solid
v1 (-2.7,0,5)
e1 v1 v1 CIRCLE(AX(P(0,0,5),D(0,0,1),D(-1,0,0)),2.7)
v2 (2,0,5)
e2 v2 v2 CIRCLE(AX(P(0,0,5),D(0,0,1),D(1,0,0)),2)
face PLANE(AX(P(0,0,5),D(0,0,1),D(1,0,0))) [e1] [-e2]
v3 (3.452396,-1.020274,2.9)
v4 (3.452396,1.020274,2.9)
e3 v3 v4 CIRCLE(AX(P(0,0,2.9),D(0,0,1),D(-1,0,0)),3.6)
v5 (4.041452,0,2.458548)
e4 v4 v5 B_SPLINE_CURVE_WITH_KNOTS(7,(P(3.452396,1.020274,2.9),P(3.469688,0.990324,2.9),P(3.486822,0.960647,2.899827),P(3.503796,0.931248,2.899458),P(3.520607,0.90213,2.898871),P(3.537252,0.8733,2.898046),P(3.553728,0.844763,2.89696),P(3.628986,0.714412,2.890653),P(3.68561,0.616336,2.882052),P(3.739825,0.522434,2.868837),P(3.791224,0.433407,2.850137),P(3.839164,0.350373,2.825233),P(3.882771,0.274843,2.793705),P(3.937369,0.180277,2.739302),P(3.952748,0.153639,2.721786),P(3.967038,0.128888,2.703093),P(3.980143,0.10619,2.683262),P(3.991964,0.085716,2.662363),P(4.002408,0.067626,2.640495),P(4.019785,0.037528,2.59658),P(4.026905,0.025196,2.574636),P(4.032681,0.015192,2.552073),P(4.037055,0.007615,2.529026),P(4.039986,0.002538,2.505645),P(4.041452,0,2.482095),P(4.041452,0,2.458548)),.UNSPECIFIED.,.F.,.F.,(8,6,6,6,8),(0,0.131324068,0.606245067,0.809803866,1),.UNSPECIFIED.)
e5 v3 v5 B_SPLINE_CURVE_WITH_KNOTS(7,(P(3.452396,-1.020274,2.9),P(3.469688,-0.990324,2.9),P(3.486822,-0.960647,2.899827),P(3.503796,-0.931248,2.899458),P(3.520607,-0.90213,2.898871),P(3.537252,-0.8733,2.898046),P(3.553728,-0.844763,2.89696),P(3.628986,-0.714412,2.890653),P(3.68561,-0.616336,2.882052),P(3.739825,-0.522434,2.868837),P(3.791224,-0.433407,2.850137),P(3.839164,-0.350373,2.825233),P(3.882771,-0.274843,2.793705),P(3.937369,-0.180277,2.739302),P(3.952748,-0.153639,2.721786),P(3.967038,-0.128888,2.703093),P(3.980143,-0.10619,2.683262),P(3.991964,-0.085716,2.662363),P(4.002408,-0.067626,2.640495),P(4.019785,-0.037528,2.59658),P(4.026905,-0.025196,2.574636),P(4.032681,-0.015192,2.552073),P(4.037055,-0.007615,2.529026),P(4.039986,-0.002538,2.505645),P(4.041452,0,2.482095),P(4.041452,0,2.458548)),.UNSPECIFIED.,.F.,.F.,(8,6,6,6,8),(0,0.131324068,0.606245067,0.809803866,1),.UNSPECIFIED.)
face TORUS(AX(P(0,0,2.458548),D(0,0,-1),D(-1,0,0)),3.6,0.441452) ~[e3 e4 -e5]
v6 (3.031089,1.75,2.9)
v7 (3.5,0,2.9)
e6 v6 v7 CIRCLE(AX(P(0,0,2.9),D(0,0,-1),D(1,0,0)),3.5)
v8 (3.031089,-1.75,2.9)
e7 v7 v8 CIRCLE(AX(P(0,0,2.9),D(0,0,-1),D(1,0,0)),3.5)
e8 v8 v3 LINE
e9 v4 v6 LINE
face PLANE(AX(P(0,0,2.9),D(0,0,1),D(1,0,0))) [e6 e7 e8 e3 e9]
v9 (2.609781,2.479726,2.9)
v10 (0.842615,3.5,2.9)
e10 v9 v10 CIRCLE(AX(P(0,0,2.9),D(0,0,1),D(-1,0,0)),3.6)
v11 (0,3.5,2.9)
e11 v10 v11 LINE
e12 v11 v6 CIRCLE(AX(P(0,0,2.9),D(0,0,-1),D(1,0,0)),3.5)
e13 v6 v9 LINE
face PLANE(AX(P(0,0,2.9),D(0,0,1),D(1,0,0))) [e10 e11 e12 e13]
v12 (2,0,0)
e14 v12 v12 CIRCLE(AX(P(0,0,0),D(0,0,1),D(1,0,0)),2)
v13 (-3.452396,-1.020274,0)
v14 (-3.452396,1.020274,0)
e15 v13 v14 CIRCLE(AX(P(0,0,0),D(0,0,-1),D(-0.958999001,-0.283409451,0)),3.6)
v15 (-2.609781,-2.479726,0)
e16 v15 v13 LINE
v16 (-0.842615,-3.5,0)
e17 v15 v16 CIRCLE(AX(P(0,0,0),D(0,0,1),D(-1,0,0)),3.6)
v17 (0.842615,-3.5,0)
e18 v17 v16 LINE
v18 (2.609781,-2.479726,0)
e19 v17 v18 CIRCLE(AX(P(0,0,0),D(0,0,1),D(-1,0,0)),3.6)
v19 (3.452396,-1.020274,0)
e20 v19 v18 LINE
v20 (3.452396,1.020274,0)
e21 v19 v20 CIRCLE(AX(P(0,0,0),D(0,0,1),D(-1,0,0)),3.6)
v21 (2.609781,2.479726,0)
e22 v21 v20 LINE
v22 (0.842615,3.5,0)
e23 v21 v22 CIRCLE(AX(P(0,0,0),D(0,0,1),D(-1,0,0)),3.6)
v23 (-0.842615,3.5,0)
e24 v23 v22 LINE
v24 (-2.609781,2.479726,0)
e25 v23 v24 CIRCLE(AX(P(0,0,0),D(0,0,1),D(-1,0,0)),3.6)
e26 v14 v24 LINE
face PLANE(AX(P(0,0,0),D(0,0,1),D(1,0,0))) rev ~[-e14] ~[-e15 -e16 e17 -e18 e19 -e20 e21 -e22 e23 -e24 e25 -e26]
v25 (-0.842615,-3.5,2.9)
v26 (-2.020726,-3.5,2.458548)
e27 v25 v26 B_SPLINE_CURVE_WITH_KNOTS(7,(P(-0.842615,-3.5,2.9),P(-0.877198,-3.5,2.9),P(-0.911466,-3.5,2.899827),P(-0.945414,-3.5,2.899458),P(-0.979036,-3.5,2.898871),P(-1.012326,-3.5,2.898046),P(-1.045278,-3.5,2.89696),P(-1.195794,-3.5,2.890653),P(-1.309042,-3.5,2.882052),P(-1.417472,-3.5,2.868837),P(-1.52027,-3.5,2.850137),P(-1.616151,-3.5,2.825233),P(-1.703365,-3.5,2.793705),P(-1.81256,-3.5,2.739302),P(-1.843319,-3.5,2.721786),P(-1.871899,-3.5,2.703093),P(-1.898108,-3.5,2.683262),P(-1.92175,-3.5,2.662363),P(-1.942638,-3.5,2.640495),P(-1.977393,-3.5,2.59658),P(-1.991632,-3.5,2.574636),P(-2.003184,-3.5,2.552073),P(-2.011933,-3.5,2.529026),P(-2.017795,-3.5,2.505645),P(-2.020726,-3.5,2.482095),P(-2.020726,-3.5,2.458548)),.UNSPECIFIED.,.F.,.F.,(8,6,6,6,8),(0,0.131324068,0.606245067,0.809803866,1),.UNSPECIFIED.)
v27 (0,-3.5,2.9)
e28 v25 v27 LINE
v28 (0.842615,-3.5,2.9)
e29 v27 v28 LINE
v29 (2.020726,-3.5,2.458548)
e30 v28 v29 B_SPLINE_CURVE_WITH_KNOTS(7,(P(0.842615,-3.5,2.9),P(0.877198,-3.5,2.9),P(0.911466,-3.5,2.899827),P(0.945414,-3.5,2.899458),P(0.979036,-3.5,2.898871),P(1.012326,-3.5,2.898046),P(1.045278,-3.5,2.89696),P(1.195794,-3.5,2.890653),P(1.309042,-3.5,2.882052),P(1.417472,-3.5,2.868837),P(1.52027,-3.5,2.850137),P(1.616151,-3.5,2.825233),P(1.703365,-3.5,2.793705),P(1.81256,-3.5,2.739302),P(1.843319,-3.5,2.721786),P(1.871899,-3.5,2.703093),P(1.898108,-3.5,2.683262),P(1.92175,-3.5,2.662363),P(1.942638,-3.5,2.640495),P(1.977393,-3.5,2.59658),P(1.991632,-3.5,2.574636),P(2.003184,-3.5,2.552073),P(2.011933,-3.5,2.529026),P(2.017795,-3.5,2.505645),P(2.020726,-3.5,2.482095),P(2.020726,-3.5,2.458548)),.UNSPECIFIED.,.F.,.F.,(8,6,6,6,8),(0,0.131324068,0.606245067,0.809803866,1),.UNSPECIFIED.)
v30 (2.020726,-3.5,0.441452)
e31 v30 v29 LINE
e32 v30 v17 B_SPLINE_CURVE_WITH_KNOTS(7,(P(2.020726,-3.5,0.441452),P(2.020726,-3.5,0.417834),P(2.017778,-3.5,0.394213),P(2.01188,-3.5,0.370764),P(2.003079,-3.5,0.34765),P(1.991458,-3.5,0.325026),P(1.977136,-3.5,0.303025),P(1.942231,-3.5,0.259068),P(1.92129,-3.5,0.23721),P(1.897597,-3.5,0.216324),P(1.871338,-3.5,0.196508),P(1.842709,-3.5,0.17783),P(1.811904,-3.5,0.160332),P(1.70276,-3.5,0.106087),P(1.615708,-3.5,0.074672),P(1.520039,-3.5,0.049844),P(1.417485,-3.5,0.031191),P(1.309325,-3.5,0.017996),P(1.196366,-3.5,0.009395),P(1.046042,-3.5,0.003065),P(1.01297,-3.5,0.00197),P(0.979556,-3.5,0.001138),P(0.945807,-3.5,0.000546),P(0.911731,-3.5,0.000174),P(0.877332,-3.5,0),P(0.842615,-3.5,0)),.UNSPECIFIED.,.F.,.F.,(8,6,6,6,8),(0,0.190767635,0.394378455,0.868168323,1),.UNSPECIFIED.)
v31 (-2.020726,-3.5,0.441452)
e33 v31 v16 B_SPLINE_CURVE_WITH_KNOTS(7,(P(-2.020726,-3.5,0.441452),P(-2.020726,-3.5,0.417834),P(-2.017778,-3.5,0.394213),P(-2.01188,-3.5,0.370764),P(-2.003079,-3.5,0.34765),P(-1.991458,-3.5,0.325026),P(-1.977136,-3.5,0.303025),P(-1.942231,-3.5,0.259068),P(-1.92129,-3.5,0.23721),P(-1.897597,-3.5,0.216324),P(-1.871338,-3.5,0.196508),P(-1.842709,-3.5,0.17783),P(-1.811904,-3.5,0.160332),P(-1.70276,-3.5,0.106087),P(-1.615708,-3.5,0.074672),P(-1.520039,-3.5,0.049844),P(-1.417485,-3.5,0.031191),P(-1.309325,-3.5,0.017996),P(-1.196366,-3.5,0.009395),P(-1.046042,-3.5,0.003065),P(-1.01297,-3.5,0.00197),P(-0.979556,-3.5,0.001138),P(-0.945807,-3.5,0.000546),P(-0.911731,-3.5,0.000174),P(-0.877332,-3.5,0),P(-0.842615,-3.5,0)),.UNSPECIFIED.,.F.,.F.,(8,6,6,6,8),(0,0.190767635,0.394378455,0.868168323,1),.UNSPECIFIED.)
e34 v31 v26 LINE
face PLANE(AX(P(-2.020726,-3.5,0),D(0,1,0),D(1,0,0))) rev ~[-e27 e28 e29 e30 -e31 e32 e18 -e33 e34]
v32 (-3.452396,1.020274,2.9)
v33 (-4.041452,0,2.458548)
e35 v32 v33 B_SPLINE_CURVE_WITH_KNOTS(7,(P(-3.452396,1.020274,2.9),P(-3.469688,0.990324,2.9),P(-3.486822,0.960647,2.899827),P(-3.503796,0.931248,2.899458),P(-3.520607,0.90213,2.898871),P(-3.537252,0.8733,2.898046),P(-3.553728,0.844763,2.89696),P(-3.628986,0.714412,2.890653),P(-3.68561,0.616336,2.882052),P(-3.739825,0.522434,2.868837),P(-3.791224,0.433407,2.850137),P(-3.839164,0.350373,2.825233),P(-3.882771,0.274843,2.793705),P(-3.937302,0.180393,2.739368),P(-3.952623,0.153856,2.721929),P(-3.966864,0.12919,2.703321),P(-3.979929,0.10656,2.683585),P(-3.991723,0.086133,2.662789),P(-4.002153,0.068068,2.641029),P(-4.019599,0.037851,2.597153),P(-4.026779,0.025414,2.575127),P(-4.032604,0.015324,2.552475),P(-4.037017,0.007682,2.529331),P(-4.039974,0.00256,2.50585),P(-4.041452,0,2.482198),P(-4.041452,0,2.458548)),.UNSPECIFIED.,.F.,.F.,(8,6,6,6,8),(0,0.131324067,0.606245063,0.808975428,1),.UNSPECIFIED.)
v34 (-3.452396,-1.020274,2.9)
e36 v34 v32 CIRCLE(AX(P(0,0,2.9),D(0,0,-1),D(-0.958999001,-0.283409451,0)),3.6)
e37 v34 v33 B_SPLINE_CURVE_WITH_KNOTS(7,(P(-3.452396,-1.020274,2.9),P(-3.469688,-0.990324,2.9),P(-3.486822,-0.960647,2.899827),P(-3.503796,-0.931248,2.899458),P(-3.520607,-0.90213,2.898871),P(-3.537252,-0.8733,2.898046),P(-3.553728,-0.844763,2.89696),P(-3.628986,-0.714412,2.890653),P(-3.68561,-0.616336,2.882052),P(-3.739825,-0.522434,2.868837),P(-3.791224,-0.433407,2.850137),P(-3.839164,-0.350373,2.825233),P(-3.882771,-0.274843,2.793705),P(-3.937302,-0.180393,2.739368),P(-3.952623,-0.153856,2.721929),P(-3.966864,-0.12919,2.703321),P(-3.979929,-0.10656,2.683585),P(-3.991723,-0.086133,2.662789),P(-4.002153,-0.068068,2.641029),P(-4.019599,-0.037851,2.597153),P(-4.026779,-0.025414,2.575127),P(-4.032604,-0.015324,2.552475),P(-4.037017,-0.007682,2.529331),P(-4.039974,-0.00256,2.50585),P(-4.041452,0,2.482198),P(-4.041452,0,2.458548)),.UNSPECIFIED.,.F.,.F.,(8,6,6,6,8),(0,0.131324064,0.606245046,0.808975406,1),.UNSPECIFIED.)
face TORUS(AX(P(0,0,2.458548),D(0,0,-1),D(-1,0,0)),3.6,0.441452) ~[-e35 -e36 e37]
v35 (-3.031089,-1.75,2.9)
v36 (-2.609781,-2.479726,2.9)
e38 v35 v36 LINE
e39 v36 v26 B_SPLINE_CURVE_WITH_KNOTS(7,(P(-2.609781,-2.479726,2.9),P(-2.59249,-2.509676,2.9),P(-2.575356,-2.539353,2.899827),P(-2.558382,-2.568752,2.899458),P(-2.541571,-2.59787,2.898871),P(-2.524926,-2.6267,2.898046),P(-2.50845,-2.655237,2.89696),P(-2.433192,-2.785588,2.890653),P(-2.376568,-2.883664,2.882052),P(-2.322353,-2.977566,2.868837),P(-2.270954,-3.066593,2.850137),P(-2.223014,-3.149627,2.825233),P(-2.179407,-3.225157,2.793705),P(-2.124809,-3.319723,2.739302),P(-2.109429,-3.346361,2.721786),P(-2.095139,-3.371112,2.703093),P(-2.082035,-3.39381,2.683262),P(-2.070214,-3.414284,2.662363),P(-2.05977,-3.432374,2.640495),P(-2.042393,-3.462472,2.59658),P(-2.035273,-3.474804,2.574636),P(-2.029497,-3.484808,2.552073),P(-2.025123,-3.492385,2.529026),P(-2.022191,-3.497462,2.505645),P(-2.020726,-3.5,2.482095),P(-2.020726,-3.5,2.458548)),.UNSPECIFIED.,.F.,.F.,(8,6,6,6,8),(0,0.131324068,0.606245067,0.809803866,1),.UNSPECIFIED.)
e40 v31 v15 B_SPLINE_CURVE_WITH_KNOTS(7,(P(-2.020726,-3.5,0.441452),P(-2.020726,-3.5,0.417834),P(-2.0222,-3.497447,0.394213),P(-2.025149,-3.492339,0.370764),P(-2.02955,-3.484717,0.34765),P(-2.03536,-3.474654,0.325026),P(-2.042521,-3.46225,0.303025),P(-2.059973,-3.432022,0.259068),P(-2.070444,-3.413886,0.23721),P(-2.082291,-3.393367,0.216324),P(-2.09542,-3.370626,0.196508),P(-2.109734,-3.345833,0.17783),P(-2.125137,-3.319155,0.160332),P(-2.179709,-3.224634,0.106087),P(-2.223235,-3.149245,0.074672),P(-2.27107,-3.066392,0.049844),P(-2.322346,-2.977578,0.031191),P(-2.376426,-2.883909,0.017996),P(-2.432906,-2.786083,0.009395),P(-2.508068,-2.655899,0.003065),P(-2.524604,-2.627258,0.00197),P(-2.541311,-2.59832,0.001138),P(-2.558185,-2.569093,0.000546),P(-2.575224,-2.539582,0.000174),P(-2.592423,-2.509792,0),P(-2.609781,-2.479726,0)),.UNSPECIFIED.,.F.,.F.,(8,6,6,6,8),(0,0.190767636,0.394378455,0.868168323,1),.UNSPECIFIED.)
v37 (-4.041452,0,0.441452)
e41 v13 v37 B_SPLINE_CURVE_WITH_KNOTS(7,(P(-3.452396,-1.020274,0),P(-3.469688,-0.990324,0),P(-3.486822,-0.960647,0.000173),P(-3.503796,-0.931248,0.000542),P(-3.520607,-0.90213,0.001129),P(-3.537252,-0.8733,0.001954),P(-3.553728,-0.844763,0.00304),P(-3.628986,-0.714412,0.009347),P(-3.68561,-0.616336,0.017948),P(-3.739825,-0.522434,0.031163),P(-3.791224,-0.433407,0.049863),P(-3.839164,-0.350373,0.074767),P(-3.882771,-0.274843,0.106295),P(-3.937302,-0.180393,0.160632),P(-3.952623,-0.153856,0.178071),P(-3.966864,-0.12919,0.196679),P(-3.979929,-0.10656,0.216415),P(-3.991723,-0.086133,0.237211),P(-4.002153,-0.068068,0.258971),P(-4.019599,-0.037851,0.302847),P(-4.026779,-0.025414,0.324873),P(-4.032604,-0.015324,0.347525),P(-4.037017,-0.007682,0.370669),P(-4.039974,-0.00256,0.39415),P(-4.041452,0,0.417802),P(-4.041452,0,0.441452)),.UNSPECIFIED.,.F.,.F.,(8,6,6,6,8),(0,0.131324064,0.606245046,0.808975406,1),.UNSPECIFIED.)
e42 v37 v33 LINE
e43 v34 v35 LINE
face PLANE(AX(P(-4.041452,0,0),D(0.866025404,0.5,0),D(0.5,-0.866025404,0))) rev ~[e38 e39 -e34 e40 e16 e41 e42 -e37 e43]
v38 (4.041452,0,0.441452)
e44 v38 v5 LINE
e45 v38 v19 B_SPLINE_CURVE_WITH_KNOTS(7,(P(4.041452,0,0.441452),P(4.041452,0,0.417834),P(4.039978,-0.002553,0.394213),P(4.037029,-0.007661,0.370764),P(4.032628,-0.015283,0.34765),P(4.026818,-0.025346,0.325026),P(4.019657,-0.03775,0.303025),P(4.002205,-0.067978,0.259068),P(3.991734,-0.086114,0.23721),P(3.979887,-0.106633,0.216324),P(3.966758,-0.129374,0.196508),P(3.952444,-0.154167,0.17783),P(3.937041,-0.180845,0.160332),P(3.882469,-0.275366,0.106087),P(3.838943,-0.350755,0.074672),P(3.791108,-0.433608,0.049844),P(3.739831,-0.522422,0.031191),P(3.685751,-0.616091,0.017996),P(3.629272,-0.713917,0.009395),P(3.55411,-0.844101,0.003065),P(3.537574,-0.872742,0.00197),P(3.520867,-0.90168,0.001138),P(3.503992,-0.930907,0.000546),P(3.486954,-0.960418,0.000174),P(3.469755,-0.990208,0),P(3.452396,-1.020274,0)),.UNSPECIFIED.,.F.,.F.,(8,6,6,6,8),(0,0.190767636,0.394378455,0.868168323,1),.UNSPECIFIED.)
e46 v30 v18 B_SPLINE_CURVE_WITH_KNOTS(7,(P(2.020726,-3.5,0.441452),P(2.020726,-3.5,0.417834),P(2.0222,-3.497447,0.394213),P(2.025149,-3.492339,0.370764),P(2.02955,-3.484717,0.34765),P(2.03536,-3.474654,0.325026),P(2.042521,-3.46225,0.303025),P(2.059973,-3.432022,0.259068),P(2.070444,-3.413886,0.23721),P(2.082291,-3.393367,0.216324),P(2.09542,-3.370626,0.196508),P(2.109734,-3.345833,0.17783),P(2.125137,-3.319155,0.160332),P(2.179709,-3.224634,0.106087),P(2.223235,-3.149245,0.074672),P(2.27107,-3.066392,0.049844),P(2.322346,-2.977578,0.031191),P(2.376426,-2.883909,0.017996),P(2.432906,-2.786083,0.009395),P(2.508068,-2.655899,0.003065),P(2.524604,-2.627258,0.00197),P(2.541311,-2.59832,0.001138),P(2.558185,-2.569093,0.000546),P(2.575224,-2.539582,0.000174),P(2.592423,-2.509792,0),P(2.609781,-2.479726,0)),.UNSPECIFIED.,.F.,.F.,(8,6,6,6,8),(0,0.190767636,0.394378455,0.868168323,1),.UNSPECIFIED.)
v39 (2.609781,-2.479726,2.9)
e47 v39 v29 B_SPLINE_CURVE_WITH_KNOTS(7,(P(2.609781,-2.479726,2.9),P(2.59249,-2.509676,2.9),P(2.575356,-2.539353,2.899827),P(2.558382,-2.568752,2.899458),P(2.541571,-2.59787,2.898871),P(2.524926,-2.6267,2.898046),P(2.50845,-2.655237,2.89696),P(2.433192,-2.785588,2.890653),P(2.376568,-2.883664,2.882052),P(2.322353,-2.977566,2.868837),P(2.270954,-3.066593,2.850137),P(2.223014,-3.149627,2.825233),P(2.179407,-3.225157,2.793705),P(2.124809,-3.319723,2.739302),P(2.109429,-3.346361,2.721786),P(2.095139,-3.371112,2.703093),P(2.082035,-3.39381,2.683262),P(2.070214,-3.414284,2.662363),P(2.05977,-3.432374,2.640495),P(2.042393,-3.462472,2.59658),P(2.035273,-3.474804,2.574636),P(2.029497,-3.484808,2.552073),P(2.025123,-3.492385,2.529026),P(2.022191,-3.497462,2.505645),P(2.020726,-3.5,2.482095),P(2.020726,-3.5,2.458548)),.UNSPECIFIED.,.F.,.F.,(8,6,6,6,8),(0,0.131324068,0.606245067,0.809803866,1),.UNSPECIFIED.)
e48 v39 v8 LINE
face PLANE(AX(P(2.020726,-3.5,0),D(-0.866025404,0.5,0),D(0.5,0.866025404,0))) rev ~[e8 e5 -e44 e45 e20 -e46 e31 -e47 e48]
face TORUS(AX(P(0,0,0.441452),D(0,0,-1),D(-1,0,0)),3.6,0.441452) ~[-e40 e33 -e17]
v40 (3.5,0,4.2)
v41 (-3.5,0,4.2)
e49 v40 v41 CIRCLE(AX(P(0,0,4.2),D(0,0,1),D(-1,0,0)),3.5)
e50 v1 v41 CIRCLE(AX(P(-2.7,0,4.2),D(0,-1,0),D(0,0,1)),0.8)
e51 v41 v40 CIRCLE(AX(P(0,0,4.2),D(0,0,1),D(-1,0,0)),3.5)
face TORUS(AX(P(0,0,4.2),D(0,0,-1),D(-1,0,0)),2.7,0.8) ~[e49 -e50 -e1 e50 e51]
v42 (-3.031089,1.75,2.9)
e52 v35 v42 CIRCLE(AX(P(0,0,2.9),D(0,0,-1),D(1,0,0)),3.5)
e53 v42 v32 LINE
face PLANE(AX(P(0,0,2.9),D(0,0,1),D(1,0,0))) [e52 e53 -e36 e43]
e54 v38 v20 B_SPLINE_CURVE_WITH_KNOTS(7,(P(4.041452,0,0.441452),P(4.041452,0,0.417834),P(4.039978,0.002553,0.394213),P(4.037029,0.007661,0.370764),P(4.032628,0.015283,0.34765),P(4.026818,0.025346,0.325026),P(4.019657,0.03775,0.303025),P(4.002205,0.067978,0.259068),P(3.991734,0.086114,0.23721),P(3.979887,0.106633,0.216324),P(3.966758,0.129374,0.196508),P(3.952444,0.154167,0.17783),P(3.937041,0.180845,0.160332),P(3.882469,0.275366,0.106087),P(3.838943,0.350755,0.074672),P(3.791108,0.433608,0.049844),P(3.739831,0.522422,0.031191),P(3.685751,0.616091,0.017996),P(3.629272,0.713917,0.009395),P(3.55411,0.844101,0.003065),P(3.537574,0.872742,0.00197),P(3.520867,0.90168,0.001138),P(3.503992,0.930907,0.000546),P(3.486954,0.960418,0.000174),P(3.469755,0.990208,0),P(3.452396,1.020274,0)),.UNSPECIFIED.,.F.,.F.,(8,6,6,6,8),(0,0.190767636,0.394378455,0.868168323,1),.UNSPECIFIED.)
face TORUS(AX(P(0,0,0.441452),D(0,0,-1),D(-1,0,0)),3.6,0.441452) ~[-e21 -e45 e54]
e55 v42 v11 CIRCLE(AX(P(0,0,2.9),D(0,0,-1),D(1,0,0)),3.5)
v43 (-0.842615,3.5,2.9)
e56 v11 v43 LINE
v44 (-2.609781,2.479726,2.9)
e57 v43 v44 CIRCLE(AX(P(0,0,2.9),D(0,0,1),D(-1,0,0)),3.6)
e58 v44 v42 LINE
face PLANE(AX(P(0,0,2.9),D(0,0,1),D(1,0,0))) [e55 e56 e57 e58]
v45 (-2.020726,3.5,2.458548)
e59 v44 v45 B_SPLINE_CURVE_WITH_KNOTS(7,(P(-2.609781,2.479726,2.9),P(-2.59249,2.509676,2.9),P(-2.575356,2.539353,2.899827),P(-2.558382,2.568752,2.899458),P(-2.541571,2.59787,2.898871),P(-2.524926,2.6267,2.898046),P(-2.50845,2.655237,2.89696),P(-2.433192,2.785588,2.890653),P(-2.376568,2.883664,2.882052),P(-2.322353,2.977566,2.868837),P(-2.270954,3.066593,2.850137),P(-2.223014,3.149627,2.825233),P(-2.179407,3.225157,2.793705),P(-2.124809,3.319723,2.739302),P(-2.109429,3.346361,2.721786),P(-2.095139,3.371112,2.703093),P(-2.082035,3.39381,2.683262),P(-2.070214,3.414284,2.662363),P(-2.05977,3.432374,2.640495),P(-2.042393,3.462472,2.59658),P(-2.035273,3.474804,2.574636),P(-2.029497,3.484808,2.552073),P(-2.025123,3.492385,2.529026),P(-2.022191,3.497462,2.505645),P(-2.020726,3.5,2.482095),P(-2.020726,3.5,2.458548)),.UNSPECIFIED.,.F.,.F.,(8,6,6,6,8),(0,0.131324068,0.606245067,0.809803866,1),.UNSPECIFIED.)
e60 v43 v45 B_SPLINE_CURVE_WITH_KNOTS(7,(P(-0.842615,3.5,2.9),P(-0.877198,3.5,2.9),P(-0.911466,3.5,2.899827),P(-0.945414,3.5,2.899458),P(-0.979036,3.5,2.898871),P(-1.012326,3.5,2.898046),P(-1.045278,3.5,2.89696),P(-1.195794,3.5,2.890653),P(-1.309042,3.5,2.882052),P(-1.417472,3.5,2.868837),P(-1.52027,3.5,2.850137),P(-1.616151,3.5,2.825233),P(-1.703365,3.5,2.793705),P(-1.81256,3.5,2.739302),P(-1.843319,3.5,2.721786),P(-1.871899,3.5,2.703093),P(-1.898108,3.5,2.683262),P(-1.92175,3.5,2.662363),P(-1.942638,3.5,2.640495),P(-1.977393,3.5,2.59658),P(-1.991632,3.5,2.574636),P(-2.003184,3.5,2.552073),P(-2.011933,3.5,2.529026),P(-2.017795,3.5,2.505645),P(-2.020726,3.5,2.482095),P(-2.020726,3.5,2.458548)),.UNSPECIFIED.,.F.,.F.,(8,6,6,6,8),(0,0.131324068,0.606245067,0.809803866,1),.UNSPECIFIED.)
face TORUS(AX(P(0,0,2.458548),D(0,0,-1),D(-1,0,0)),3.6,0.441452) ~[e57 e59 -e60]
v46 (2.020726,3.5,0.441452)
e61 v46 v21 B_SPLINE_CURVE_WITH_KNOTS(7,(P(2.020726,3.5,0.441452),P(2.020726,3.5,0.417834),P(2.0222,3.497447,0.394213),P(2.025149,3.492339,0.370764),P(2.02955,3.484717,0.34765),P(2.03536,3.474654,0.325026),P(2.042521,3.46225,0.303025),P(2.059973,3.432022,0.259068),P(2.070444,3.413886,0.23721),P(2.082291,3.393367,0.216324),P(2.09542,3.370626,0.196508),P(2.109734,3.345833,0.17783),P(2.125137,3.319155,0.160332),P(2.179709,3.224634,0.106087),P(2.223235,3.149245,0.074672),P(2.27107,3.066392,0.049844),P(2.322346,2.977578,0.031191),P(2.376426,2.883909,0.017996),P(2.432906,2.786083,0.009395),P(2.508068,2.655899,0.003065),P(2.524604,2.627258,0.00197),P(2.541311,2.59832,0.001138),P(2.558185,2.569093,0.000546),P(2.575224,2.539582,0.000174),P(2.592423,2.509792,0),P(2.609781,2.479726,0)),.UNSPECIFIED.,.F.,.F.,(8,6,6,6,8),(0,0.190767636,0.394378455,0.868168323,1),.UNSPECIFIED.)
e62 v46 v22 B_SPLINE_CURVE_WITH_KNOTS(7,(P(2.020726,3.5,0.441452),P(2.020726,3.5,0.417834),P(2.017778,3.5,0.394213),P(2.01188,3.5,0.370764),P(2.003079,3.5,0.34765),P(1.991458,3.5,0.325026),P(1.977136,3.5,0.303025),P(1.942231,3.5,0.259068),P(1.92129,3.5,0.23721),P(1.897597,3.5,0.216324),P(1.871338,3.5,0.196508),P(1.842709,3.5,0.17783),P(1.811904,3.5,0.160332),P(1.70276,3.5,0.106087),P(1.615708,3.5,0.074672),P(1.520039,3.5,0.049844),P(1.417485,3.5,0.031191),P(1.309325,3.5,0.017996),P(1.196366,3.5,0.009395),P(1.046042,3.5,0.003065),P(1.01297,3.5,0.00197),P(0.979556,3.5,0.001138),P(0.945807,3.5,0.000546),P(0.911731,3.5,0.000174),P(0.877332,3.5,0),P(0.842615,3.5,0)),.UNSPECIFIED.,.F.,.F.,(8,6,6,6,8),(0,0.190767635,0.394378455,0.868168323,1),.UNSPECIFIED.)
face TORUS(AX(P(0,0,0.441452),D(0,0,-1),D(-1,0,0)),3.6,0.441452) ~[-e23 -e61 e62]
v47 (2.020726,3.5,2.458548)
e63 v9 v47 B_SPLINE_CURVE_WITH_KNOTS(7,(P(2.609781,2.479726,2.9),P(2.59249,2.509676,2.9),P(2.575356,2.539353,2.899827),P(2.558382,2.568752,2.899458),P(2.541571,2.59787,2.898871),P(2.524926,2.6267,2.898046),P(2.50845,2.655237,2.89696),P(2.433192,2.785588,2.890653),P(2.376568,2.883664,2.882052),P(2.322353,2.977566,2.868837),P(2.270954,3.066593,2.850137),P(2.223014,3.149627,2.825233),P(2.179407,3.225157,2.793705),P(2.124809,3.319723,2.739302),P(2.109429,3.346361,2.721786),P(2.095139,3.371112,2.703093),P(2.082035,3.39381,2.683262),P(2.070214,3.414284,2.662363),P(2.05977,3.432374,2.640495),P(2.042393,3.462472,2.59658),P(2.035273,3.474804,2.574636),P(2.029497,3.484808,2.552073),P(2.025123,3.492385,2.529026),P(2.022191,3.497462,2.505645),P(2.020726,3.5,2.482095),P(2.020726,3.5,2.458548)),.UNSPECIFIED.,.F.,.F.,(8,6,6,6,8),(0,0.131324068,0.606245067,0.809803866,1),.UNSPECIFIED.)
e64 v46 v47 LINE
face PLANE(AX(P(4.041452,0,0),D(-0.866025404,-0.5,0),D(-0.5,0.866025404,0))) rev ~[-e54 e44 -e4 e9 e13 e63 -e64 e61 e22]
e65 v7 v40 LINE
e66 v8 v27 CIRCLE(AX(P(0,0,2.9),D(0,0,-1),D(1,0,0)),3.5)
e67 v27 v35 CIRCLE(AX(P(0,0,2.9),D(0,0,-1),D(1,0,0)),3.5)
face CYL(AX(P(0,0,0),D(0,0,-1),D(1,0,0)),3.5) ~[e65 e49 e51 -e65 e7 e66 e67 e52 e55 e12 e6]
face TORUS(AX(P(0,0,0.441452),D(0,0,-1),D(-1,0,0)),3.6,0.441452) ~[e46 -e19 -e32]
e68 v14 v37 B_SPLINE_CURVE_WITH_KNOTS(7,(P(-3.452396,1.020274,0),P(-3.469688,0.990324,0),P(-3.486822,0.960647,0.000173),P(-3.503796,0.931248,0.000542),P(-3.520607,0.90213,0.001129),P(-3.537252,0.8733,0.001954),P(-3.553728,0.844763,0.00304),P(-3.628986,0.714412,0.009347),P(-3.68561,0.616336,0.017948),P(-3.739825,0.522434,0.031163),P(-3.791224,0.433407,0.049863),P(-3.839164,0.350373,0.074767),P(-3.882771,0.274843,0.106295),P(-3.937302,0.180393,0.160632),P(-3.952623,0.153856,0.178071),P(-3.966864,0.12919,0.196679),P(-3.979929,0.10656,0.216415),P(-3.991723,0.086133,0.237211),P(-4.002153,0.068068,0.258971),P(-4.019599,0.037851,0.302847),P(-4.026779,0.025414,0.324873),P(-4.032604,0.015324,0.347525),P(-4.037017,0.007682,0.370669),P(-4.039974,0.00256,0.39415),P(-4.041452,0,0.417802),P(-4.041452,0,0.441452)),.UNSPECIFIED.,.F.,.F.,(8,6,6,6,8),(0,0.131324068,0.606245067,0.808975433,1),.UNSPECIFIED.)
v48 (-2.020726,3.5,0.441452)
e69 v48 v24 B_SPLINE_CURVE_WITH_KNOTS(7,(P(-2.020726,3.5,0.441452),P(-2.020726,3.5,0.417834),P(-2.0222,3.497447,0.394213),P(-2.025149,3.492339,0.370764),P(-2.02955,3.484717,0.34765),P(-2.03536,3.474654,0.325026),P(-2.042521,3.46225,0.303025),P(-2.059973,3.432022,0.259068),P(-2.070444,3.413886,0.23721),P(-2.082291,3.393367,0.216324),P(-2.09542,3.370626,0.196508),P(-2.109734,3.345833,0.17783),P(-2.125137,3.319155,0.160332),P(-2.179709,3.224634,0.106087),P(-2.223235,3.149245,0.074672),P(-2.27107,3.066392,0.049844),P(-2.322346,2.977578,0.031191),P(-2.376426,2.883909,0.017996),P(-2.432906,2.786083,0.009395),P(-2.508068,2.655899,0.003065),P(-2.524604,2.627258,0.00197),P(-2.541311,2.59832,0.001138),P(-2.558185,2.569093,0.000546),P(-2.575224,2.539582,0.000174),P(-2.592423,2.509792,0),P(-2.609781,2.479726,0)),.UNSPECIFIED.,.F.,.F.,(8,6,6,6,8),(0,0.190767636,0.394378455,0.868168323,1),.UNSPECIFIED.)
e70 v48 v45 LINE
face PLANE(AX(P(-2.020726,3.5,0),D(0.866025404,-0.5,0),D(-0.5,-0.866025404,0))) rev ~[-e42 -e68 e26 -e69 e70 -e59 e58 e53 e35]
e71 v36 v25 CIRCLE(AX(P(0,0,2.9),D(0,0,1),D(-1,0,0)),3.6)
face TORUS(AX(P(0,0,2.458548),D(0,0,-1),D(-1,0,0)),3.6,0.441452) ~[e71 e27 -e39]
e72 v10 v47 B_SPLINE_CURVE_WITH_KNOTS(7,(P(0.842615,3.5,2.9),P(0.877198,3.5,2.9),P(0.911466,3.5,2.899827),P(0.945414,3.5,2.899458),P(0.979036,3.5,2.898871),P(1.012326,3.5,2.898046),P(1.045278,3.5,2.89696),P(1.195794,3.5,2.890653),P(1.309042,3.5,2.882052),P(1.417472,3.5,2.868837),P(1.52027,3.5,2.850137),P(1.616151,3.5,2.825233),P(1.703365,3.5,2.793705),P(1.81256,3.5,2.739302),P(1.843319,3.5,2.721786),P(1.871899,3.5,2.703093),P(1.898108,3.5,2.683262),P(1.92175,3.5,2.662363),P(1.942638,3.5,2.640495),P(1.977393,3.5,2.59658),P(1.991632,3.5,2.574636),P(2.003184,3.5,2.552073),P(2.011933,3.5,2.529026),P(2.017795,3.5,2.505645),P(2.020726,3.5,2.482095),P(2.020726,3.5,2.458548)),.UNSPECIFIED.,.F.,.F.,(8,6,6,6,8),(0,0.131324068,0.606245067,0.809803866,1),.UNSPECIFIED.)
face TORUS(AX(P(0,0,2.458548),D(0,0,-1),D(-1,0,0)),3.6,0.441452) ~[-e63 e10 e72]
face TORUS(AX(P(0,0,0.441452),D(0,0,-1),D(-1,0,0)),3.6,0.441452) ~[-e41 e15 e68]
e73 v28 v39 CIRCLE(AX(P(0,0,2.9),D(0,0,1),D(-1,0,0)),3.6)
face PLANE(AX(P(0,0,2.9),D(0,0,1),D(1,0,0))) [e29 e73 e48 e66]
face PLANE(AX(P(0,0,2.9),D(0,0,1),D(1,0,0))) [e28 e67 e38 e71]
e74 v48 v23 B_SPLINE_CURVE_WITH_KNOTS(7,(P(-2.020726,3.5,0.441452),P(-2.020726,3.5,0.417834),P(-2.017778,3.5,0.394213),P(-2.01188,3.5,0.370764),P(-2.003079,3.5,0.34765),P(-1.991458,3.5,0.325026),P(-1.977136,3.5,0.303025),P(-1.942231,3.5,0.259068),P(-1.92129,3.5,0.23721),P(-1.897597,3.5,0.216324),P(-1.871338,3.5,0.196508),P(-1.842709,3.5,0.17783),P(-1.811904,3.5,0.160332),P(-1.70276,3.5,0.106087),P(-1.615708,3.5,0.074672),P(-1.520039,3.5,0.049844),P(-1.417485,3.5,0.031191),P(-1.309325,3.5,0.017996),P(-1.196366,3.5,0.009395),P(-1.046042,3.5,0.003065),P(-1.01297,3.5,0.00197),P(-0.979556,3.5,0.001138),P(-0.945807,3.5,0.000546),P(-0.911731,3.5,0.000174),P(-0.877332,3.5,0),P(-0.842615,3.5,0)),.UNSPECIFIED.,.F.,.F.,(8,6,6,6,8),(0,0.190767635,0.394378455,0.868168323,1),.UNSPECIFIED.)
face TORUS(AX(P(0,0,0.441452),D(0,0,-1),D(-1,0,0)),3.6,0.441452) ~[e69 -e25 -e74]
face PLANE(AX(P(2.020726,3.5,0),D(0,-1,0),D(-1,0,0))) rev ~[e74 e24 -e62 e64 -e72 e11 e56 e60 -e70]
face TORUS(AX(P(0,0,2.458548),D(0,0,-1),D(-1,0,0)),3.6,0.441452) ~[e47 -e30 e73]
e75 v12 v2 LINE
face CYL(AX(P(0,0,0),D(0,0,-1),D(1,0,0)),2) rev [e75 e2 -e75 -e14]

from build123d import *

# Parameters (mm, degrees)
SZKIC1_R                    = 2
DODANIE_WYCI_GNI_CIE1_DEPTH = 2.9
SZKIC2_R                    = 3.5
SZKIC2_R_2                  = 2
DODANIE_WYCI_GNI_CIE2_DEPTH = 5


with BuildPart() as part:
    # Szkic1 → Dodanie-wyciągnięcie1 (new body)
    with BuildSketch(Plane.XY):
        Polygon((-4.041451884, 0), (-2.020725942, -3.5), (2.020725942, -3.5), (4.041451884, 0), (2.020725942, 3.5), (-2.020725942, 3.5), align=None)
        Circle(SZKIC1_R, mode=Mode.SUBTRACT)
    extrude(amount=DODANIE_WYCI_GNI_CIE1_DEPTH)

    # Szkic2 → Dodanie-wyciągnięcie2 (add)
    with BuildSketch(Plane.XY):
        Circle(SZKIC2_R)
        Circle(SZKIC2_R_2, mode=Mode.SUBTRACT)
    extrude(amount=DODANIE_WYCI_GNI_CIE2_DEPTH)

    # Szkic3 → Wycięcie-obrót1 (revolve, cut)
    with BuildSketch(Plane(origin=(0, 0, 0), x_dir=(1, 0, 0), z_dir=(0, 1, 0))):
        with BuildLine():
            Line((-4.041451884, 0), (-4.041451884, -0.441451884))
            ThreePointArc((-4.041451884, -0.441451884), (-3.912153621, -0.129298263), (-3.6, 0))
            Line((-3.6, 0), (-4.041451884, 0))
        make_face()
        with BuildLine():
            ThreePointArc((-3.6, -2.9), (-3.912153621, -2.770701737), (-4.041451884, -2.458548116))
            Line((-4.041451884, -2.458548116), (-4.041451884, -2.9))
            Line((-4.041451884, -2.9), (-3.6, -2.9))
        make_face()
        with BuildLine():
            Line((-3.5, -5), (-2.7, -5))
            ThreePointArc((-2.7, -5), (-3.265685425, -4.765685425), (-3.5, -4.2))
            Line((-3.5, -4.2), (-3.5, -5))
        make_face()
    revolve(axis=Axis((0, 0, -1.701574894), (0, 0, 1)), mode=Mode.SUBTRACT)


solid = part.part
